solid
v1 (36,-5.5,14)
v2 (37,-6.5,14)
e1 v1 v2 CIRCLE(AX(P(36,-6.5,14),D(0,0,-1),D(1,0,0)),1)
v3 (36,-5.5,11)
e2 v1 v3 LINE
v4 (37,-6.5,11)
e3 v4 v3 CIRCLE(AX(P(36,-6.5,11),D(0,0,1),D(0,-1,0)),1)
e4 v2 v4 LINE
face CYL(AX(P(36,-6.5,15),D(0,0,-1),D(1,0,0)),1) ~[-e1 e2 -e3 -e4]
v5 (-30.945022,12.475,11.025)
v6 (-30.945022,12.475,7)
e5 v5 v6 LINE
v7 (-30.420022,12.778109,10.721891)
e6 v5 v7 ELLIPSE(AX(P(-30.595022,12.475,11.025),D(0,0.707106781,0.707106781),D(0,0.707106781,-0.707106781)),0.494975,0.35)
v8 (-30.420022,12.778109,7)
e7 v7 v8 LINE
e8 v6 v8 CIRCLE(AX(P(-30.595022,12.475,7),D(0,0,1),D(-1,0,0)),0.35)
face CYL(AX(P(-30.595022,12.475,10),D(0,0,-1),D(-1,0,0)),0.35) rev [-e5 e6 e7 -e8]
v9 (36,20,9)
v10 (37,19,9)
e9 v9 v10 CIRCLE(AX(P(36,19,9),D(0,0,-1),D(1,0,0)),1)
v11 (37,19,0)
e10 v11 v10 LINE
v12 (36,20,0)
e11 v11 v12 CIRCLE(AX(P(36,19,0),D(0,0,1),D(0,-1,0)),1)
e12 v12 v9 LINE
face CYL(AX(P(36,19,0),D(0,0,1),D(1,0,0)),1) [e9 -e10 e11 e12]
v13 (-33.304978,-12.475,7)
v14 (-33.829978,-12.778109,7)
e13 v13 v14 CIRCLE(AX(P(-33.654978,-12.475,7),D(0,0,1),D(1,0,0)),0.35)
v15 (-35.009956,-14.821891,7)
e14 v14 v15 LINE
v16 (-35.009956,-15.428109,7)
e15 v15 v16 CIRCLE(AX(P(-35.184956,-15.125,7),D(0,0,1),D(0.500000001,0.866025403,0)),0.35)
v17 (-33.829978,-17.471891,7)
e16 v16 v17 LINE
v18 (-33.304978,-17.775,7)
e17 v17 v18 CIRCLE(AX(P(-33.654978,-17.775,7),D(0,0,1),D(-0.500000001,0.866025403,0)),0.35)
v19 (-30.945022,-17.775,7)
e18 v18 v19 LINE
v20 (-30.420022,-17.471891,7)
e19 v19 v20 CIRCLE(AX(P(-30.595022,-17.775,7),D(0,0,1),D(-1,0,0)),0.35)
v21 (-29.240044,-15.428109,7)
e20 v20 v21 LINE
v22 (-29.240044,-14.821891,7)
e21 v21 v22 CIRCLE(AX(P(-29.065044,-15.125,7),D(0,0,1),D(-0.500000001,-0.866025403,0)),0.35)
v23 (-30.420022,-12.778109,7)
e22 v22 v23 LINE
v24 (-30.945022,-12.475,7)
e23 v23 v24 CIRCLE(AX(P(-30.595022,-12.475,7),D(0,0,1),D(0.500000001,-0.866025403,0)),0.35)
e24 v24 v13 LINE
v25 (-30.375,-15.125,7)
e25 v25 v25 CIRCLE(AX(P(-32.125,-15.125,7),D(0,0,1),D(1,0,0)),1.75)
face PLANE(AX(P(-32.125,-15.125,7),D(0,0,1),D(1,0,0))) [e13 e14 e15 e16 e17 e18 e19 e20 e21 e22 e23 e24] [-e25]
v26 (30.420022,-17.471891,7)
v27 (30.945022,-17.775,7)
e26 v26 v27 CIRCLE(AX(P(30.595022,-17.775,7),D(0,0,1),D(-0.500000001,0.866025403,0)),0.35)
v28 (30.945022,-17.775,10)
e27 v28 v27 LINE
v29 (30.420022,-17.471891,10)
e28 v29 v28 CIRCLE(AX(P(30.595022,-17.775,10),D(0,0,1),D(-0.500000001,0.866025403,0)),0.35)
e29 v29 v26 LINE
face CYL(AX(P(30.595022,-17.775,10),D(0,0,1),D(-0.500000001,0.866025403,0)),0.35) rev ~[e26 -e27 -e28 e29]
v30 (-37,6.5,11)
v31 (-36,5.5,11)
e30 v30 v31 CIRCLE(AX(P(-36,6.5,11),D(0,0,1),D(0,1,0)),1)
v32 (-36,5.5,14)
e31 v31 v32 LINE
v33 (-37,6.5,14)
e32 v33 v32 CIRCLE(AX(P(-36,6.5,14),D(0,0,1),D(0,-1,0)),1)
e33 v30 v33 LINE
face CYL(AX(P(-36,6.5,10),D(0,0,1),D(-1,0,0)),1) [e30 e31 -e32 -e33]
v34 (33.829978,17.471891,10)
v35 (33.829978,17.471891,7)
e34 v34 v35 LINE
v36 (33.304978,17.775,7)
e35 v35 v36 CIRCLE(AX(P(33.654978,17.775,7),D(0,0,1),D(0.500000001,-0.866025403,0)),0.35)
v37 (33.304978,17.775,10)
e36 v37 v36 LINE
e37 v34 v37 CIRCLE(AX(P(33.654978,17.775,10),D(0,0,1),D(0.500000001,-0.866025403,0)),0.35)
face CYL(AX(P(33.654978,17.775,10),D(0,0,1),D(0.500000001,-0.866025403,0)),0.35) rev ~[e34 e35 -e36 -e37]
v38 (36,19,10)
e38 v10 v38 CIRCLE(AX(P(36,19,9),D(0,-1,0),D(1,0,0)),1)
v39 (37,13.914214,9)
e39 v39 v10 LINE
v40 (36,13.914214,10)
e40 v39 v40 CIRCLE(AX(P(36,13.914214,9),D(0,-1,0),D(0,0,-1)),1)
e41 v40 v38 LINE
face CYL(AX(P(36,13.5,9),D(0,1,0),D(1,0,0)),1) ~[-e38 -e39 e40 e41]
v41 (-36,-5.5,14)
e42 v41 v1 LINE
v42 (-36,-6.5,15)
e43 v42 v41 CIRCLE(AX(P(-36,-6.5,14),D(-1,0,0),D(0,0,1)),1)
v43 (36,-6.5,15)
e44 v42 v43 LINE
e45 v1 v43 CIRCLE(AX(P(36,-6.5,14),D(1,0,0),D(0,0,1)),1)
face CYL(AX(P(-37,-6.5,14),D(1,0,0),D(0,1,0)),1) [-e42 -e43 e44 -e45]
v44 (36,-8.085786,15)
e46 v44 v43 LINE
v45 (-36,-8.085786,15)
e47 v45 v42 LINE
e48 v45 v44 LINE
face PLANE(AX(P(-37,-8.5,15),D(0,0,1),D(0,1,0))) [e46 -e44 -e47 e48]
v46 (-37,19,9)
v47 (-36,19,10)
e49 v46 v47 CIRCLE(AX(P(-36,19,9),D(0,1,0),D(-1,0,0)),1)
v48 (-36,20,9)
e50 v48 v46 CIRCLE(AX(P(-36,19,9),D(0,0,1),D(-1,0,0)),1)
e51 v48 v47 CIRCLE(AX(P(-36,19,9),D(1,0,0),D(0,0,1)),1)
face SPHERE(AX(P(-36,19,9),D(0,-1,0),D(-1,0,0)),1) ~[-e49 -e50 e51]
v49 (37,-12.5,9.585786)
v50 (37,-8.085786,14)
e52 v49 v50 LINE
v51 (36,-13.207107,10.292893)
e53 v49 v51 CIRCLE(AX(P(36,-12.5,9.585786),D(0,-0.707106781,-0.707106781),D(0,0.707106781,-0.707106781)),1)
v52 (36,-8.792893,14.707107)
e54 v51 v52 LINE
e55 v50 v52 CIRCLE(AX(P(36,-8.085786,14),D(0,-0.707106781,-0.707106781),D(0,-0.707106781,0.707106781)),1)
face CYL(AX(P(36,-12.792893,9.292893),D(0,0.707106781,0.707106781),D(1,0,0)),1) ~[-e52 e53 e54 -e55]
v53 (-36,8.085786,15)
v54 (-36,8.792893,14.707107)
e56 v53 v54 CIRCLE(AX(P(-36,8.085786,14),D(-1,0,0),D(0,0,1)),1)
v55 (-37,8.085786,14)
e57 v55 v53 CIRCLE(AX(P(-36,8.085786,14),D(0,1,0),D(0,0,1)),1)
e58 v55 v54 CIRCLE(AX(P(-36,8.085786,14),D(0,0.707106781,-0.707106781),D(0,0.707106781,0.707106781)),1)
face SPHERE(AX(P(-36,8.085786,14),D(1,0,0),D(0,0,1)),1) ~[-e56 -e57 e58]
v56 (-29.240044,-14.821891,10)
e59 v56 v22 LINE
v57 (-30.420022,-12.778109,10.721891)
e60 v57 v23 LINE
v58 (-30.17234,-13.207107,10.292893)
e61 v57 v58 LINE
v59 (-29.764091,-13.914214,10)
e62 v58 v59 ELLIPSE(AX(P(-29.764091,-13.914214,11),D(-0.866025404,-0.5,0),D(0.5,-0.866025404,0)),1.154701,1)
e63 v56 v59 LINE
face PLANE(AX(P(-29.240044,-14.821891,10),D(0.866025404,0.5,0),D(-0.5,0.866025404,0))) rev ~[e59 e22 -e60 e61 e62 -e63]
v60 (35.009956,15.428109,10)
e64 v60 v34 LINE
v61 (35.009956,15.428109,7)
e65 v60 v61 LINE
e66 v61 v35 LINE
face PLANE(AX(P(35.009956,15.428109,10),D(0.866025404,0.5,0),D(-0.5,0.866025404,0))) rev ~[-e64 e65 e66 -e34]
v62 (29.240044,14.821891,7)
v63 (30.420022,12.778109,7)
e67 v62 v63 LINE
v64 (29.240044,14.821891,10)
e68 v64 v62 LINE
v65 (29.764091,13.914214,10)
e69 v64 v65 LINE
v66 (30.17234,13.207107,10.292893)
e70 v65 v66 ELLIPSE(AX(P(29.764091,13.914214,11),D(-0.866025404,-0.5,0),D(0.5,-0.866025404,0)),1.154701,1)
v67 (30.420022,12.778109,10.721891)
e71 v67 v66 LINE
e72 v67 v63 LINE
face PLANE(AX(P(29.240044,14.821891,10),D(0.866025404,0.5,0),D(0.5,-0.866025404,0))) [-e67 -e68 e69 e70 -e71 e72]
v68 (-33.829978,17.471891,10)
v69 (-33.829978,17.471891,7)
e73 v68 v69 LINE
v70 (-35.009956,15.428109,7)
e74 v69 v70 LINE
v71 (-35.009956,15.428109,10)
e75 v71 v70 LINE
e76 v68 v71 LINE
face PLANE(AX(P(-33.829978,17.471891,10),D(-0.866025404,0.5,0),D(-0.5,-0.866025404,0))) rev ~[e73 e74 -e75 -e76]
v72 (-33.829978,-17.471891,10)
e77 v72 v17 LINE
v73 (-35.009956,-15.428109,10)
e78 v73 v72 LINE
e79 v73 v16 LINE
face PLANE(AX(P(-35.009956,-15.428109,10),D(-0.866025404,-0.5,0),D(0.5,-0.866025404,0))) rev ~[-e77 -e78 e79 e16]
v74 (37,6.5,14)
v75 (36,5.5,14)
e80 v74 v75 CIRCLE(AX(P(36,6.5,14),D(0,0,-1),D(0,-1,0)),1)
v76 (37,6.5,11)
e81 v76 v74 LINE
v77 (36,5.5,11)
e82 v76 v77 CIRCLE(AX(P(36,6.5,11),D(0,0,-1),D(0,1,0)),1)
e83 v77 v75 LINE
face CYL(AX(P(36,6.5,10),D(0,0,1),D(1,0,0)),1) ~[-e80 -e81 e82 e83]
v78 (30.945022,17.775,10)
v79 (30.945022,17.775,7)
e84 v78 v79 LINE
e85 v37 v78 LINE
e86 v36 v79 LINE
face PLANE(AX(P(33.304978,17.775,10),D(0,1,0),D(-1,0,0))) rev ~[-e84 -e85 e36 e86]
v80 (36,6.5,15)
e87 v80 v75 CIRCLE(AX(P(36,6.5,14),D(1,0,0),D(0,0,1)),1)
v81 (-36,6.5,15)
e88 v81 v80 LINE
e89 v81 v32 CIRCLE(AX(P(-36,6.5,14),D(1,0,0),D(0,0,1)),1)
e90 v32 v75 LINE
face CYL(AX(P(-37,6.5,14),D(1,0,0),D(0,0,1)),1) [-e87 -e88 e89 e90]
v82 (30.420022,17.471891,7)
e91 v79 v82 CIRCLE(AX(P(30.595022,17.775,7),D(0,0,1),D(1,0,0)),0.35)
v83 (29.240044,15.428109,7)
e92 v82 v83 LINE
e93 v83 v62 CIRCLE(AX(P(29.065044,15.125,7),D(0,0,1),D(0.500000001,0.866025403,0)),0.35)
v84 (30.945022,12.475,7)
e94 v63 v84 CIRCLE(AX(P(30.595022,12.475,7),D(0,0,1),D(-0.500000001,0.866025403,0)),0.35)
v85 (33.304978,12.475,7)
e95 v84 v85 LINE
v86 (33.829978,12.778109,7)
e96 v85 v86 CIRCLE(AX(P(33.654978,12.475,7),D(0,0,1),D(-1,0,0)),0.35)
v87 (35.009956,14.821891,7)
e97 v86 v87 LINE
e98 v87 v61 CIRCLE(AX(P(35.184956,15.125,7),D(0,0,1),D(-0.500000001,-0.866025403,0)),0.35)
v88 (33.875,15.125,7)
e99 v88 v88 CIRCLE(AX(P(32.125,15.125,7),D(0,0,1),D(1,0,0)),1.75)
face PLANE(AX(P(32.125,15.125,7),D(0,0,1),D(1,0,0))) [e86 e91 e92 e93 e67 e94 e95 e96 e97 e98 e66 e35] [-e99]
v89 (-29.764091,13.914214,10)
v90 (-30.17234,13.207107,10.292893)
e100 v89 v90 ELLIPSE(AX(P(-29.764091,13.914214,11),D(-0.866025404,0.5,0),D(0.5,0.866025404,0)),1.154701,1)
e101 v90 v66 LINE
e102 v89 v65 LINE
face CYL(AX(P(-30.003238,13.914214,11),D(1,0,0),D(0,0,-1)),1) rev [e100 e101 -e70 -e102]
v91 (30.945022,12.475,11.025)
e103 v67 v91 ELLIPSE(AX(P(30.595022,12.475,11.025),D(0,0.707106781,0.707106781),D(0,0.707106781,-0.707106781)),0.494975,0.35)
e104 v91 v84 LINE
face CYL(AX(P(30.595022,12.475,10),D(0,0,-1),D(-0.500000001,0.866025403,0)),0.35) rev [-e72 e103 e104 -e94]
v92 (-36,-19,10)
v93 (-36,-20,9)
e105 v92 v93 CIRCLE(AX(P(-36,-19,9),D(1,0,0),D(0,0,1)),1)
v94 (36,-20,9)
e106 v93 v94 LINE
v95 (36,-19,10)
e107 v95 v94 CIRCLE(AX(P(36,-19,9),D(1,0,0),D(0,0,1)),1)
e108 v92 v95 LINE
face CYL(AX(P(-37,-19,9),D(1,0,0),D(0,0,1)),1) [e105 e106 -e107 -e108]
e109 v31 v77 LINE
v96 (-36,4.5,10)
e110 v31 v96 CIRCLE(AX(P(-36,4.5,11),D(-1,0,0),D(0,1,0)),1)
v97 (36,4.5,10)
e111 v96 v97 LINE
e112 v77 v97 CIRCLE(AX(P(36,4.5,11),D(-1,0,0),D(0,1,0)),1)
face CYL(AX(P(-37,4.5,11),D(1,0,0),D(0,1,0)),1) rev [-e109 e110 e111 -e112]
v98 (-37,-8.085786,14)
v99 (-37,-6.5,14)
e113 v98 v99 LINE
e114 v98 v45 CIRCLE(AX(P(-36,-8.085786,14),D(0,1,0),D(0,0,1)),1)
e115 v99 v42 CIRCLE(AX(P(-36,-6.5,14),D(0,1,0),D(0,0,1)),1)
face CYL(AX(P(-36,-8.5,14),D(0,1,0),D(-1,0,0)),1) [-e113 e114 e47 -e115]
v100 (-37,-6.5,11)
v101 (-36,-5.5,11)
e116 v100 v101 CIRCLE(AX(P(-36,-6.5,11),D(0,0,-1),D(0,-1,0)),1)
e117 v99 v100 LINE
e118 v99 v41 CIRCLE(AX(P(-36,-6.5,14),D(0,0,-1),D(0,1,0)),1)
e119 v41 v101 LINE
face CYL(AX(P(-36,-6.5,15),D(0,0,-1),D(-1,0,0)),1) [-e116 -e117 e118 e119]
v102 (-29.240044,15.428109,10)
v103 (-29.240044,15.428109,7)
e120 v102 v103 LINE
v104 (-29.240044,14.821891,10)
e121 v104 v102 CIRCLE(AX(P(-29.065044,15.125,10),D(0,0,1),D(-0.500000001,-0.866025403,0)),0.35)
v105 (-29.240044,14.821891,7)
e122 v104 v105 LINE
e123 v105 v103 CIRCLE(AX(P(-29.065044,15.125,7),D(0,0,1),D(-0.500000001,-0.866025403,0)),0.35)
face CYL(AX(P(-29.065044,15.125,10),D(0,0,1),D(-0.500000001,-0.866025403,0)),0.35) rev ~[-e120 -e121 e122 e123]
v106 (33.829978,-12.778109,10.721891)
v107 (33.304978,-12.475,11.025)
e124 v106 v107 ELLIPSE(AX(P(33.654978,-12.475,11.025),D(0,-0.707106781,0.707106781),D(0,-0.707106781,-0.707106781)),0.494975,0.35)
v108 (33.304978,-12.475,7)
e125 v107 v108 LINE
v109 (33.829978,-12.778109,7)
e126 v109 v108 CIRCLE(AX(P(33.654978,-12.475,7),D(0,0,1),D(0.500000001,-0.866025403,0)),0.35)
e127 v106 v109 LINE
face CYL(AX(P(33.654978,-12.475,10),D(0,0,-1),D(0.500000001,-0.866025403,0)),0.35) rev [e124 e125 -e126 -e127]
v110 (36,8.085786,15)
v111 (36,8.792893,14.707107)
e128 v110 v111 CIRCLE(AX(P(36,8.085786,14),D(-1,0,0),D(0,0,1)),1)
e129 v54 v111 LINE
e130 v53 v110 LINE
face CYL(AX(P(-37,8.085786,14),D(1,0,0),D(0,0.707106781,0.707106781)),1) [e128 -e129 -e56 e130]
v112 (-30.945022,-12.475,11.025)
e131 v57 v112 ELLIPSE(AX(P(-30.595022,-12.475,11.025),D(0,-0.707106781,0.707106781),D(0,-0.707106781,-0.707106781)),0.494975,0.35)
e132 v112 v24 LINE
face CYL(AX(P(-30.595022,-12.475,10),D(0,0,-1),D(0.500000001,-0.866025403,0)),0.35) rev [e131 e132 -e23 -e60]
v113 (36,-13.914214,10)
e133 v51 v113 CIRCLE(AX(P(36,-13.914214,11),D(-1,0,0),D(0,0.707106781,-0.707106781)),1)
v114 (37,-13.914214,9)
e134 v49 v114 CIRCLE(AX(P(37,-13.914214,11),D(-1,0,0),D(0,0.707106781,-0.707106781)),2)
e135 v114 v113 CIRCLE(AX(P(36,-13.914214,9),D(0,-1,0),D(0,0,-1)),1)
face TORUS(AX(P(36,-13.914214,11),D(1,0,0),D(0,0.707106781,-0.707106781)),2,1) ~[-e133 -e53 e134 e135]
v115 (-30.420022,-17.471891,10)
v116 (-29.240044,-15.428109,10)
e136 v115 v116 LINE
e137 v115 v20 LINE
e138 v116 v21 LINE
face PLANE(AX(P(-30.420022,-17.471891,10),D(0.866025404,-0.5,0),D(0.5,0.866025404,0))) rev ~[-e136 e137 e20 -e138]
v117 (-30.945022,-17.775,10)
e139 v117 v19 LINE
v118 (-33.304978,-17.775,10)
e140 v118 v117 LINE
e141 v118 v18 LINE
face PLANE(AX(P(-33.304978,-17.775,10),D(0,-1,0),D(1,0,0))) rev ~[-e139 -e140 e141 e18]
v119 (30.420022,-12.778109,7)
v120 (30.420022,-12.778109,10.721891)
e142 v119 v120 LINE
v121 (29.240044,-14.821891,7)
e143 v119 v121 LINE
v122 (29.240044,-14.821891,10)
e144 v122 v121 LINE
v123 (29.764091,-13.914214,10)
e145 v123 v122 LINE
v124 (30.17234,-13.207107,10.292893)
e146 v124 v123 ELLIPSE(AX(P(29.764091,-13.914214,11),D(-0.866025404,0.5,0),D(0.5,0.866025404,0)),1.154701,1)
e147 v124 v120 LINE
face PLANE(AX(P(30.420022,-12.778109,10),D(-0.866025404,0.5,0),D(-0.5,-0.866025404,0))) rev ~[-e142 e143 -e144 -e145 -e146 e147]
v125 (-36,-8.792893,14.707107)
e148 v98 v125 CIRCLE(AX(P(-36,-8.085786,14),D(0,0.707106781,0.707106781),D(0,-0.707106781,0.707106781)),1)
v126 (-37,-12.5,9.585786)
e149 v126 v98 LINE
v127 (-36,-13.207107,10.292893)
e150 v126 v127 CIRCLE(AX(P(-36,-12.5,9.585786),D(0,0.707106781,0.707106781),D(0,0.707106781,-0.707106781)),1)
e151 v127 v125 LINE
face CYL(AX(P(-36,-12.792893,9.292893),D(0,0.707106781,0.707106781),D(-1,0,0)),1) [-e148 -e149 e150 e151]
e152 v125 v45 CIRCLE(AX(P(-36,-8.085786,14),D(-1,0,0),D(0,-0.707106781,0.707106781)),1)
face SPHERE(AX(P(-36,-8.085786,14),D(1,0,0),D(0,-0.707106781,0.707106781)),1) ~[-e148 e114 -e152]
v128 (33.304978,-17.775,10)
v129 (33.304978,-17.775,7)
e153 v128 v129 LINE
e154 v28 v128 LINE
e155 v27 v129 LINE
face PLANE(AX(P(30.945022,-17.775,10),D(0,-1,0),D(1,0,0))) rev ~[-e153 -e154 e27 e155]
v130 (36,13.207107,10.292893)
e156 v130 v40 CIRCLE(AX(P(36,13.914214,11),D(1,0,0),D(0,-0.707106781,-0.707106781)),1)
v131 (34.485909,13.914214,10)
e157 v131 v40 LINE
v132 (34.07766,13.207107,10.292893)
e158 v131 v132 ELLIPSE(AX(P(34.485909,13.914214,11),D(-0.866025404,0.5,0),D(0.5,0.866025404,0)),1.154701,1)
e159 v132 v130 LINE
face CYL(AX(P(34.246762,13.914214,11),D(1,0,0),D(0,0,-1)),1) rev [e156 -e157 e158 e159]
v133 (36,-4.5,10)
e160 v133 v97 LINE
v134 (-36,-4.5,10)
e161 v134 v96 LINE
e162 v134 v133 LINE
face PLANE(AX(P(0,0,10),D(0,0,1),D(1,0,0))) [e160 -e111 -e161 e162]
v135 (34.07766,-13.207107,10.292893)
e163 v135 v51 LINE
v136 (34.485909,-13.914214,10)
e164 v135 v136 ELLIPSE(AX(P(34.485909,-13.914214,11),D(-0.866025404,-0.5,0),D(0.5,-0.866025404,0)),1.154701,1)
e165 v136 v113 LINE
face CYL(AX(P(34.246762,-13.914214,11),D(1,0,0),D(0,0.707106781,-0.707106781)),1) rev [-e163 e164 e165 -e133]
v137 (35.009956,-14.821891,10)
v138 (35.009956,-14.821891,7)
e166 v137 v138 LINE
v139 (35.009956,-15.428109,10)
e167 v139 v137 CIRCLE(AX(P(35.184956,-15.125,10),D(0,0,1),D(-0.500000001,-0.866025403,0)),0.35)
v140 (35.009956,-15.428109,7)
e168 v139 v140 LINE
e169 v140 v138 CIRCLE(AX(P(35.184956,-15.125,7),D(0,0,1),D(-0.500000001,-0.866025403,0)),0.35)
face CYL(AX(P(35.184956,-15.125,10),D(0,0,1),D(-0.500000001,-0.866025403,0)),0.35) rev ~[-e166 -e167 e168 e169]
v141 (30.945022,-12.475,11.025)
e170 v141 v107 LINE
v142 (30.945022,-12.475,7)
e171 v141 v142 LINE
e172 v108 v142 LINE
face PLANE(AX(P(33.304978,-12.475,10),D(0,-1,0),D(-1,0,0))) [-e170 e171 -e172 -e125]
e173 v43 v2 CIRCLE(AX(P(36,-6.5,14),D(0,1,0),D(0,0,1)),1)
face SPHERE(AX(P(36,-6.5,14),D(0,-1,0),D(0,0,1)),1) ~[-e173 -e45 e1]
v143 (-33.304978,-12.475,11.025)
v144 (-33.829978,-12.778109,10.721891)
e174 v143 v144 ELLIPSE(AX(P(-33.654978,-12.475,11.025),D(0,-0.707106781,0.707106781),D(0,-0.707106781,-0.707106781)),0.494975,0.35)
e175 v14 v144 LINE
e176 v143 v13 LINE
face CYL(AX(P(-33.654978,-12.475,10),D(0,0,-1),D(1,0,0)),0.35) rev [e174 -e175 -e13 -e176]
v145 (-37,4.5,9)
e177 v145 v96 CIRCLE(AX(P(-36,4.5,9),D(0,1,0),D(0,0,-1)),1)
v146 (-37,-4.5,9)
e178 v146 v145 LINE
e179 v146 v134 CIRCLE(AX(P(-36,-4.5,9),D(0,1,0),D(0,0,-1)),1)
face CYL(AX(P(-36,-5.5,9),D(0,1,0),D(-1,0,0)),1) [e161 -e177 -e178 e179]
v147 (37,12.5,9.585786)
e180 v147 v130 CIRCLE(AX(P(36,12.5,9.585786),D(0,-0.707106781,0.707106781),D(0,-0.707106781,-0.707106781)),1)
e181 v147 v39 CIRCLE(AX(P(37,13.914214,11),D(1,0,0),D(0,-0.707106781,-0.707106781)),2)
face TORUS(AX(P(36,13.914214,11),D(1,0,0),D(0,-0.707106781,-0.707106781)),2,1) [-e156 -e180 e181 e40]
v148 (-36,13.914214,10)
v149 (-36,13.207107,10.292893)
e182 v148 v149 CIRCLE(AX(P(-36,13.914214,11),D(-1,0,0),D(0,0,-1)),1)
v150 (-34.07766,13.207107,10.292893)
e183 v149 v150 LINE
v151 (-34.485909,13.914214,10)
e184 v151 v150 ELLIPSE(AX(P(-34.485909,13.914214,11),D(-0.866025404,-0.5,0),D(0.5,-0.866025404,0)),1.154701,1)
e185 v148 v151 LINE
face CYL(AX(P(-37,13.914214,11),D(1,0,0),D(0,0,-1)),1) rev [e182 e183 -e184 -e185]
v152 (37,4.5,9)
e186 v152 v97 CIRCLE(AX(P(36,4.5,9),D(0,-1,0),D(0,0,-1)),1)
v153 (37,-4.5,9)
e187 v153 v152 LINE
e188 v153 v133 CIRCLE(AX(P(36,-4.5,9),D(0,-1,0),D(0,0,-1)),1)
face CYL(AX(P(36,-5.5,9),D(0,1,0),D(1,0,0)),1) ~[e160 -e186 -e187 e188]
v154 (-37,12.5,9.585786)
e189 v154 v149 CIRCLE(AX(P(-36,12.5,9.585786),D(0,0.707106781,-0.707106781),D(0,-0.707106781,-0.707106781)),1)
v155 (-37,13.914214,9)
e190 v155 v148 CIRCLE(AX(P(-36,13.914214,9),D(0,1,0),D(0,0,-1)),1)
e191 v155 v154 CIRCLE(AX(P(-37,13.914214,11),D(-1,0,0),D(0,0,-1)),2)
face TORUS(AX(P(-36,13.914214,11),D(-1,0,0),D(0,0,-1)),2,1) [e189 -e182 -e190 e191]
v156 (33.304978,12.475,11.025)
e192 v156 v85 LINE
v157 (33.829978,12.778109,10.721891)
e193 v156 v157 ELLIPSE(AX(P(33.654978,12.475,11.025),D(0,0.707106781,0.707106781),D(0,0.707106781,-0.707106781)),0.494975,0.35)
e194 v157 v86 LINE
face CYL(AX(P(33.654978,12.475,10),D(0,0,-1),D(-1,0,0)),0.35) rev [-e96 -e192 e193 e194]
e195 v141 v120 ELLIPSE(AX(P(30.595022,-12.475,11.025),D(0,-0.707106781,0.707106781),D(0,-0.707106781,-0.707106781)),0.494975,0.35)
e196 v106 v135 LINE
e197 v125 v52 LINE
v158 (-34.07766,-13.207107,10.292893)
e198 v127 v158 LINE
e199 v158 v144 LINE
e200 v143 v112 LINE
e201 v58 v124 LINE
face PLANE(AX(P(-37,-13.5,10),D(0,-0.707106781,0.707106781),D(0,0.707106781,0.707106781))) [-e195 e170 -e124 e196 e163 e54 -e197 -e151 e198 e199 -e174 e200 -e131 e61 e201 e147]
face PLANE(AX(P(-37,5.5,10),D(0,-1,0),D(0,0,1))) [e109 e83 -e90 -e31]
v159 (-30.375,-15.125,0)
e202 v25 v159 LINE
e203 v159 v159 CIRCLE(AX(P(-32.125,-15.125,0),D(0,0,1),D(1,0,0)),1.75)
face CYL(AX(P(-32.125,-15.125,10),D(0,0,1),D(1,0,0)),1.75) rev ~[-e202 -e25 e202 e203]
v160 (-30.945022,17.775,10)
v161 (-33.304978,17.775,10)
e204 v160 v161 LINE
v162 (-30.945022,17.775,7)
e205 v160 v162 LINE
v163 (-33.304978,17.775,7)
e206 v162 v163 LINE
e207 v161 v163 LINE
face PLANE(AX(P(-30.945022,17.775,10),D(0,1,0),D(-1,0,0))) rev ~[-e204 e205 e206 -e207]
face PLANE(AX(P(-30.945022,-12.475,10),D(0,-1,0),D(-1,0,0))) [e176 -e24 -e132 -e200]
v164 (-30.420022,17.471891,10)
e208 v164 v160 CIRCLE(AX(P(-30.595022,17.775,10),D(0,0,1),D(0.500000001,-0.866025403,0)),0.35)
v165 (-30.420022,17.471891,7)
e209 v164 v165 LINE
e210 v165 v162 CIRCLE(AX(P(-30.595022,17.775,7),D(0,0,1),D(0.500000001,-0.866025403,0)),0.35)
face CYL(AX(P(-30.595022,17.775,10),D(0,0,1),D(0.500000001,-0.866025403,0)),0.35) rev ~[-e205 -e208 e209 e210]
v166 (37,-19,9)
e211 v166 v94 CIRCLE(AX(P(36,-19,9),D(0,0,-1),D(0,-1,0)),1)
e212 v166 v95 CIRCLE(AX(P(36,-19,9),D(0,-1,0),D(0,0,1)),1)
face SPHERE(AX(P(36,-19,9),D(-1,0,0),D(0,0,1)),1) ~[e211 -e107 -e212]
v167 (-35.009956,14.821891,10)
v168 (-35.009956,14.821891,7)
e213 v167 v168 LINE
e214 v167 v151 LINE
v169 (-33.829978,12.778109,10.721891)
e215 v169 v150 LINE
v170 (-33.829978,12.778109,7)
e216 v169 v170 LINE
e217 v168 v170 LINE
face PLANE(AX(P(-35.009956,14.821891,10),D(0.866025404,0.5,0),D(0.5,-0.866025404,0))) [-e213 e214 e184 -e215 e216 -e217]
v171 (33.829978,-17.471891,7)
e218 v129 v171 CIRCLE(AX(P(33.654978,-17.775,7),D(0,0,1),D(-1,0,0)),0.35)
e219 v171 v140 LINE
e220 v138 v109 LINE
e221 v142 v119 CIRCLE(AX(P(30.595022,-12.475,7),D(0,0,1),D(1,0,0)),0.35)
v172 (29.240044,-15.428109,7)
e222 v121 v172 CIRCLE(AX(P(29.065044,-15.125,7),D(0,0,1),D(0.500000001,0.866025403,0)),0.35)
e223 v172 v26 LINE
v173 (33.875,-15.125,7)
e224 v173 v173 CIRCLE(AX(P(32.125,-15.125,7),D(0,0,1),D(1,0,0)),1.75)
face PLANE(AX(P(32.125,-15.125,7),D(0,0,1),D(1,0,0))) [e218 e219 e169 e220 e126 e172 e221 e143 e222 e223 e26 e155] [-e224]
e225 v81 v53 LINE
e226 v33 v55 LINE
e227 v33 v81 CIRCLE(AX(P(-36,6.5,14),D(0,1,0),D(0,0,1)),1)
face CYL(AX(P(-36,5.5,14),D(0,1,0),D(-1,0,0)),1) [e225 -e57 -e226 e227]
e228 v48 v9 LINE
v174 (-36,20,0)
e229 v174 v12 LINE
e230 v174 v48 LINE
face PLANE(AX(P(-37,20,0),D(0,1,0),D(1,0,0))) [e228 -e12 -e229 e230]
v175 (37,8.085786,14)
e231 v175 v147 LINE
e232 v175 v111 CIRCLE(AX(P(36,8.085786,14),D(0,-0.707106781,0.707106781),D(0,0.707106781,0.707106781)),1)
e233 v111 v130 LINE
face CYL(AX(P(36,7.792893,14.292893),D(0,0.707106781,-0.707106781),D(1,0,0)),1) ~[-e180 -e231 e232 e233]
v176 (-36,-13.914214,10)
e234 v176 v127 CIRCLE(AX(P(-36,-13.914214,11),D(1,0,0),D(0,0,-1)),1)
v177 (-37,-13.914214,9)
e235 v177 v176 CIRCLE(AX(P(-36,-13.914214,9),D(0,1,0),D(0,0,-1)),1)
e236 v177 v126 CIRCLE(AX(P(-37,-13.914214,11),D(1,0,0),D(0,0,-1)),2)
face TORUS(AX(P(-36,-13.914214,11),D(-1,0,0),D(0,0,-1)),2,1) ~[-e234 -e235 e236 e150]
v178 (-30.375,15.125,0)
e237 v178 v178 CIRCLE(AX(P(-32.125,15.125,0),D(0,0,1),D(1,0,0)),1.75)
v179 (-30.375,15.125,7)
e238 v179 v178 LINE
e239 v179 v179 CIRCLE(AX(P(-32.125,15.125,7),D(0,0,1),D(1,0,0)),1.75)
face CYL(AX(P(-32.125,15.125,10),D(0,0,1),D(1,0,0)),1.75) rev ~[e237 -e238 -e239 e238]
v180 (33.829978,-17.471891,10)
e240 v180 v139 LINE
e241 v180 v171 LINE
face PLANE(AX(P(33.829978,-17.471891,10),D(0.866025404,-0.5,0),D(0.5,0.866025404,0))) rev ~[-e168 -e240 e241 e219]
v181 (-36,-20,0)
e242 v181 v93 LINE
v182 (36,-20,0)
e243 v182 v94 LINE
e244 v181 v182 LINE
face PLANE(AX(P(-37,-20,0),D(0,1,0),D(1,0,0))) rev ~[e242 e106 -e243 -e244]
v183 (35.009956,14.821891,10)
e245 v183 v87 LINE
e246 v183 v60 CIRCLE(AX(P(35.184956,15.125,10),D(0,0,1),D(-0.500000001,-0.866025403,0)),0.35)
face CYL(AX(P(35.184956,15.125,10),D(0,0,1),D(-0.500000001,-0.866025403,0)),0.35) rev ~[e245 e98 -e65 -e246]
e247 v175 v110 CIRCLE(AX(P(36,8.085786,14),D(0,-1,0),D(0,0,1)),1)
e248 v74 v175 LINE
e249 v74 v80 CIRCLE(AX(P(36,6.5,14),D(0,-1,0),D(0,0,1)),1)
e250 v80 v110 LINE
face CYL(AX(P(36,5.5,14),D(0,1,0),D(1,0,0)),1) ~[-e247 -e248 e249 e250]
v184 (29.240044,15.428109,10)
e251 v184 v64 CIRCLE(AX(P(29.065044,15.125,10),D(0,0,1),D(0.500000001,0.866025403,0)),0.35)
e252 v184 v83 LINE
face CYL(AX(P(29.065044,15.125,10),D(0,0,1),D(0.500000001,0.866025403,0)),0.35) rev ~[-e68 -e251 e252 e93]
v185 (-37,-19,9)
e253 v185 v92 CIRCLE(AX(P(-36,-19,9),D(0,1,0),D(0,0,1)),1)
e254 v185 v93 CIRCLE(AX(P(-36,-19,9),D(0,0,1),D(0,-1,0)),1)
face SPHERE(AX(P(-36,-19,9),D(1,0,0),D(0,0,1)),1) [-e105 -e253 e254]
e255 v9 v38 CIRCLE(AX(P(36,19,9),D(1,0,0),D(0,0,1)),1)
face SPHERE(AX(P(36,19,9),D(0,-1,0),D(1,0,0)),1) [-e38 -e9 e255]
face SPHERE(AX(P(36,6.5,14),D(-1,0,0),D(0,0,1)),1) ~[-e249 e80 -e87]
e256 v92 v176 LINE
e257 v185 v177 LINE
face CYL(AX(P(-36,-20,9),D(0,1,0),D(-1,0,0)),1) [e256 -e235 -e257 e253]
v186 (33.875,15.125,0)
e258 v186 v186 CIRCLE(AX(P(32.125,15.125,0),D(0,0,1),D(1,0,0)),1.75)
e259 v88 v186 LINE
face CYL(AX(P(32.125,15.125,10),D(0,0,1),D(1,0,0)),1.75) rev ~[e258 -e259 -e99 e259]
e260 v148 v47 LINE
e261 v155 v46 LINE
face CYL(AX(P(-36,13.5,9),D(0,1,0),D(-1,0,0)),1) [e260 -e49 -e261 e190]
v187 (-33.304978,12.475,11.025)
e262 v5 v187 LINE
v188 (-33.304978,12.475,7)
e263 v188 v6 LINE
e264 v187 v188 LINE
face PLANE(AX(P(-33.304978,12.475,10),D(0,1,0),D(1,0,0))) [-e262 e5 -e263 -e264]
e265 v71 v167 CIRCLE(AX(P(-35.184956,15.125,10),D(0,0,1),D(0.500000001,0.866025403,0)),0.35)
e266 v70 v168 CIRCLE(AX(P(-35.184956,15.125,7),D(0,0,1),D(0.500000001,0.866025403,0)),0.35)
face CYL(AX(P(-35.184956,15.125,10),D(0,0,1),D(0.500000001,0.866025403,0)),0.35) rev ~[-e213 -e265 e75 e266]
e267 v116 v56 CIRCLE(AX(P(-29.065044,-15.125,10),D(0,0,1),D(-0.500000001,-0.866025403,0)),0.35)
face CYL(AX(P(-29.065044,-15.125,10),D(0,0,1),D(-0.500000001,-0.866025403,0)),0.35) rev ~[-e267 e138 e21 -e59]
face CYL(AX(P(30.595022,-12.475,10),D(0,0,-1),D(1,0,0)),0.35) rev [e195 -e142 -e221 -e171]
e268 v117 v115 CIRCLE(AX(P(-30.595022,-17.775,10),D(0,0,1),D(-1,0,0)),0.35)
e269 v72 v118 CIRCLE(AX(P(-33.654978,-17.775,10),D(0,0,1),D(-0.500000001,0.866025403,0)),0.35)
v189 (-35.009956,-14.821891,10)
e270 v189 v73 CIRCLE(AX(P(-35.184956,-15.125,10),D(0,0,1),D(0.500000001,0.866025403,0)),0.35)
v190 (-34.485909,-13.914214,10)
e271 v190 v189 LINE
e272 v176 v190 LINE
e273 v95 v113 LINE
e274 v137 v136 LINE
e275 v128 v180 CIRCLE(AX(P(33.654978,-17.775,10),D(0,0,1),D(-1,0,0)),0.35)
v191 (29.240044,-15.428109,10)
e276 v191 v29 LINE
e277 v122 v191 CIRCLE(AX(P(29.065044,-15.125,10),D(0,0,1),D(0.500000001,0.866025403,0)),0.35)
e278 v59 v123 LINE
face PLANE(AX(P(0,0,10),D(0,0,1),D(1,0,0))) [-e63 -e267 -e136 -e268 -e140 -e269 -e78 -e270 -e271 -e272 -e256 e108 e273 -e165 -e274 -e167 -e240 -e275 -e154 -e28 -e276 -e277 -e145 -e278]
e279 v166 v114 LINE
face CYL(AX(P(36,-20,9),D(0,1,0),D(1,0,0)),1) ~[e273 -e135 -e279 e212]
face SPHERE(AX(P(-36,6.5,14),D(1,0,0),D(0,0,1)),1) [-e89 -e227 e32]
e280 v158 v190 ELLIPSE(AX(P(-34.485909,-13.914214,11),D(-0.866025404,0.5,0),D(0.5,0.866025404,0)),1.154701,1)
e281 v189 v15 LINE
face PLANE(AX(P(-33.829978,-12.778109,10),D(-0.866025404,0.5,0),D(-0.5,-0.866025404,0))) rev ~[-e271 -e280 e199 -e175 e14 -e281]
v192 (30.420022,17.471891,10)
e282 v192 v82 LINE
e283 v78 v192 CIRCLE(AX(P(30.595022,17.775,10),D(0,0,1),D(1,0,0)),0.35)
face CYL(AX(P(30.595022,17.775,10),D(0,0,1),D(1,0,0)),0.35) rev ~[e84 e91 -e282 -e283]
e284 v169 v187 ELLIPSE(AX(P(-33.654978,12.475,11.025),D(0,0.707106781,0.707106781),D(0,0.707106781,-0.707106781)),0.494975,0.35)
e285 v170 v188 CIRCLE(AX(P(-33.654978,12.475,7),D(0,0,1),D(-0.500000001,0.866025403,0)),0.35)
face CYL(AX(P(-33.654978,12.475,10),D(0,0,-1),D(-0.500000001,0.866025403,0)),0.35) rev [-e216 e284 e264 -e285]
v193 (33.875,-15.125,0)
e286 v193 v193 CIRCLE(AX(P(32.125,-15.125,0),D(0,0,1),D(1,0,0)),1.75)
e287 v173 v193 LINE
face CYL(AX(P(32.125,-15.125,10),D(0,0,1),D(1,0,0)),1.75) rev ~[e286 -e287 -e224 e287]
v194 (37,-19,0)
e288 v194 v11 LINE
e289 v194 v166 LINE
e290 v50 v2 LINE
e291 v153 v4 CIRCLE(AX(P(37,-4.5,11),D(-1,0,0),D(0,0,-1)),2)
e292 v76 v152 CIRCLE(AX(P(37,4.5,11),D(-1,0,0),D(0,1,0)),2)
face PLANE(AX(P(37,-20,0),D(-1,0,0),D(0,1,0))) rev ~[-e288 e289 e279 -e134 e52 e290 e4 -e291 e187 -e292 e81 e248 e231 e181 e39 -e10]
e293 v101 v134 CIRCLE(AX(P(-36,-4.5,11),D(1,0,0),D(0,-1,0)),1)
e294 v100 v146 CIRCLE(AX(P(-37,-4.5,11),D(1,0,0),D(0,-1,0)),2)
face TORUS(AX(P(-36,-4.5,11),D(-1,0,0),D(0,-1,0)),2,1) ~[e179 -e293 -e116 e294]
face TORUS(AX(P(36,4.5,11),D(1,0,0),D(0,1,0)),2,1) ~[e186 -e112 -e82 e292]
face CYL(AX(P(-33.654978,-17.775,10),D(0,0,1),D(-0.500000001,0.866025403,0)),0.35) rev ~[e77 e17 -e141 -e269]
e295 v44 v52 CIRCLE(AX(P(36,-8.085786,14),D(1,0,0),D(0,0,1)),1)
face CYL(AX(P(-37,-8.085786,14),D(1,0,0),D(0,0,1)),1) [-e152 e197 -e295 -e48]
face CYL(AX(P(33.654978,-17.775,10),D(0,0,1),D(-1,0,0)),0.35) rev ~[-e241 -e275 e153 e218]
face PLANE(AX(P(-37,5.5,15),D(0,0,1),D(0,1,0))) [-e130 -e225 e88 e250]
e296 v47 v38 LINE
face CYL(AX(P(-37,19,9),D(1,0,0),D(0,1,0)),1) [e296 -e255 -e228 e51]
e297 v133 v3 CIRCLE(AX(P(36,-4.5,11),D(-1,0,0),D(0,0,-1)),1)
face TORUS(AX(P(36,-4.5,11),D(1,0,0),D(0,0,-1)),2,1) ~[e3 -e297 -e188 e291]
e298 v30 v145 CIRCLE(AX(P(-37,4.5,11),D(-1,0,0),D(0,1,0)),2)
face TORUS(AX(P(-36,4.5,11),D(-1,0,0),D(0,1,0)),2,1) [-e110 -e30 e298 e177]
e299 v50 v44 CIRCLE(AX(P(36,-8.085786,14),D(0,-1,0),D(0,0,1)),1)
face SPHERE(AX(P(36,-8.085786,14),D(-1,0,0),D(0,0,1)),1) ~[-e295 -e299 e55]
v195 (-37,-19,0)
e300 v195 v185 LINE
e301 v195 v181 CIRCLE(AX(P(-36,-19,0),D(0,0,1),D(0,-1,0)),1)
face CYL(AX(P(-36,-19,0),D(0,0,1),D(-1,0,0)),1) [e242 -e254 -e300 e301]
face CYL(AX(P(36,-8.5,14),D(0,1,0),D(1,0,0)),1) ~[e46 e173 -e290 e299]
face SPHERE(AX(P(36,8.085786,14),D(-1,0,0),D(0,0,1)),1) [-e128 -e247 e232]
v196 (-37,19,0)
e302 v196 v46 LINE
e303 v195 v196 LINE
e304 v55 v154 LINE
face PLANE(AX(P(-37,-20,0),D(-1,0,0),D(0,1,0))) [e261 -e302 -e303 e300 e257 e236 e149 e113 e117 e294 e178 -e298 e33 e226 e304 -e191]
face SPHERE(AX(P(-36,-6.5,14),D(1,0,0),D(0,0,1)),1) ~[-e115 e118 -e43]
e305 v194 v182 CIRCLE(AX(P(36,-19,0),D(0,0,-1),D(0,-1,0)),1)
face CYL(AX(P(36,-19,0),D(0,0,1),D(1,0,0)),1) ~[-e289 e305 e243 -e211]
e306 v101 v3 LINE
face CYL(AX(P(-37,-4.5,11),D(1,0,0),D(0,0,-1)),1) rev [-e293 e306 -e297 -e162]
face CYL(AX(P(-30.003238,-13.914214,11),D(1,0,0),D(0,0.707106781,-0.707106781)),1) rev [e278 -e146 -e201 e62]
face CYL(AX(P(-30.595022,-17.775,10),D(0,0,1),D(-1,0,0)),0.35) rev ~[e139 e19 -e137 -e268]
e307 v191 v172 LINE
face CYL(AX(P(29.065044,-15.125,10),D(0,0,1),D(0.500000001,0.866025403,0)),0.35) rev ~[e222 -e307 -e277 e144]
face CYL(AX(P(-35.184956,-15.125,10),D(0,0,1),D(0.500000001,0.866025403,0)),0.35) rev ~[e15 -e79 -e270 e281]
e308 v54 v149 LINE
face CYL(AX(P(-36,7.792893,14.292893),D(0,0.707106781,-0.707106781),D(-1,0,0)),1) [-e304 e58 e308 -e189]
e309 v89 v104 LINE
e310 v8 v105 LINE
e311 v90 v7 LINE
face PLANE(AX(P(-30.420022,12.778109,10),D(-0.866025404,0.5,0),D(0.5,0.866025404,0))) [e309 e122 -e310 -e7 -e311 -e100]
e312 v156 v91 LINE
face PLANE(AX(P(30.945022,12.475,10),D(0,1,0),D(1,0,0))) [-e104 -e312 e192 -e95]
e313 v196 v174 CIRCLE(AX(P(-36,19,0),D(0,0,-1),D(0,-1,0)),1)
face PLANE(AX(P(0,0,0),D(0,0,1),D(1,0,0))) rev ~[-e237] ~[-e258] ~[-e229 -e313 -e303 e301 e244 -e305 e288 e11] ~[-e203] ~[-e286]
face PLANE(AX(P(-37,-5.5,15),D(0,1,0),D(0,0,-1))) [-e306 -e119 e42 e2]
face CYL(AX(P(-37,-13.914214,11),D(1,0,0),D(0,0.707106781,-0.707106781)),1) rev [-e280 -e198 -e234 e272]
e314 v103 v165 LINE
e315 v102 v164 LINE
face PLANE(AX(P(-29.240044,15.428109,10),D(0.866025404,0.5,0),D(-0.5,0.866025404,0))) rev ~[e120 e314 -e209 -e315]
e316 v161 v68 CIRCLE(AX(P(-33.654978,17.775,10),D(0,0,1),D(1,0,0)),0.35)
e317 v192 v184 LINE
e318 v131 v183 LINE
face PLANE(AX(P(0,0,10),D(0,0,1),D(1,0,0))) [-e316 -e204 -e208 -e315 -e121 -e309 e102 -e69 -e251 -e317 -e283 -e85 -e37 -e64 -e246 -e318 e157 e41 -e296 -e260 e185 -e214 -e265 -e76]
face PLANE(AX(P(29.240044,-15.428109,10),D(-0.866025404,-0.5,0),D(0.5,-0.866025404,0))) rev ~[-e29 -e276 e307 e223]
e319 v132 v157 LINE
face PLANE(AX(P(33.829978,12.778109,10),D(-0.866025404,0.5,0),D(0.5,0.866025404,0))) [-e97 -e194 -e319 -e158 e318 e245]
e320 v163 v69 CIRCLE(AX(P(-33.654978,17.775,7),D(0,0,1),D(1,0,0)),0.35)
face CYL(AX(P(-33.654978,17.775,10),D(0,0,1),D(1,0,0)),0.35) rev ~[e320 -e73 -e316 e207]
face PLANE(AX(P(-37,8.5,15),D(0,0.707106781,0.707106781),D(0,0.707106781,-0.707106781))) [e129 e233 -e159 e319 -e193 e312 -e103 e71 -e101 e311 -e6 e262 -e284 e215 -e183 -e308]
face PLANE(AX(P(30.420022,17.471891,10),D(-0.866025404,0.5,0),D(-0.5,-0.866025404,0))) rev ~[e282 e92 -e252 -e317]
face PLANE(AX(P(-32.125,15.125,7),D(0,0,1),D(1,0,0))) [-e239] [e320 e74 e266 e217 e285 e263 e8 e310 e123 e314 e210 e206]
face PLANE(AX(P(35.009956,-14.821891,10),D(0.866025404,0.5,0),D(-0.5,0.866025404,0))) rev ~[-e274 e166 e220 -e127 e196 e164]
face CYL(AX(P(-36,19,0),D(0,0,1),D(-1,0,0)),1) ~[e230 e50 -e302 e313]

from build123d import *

# Parameters (mm, degrees)
SKETCH1_W               = 74
SKETCH1_H               = 40
BOSS_EXTRUDE1_DEPTH     = 10
BOSS_EXTRUDE2_DEPTH     = 74
SKETCH3_R               = 1.75
CUT_EXTRUDE1_DEPTH      = 6
CUT_EXTRUDE1_DEPTH_BACK = 11
CUT_EXTRUDE2_DEPTH      = 6
CUT_EXTRUDE2_DEPTH_BACK = 3
FILLET1_R               = 1


with BuildPart() as part:
    # Sketch1 → Boss-Extrude1 (new body)
    with BuildSketch(Plane.XY):
        Rectangle(SKETCH1_W, SKETCH1_H)
    extrude(amount=BOSS_EXTRUDE1_DEPTH)

    # Sketch2 → Boss-Extrude2 (add)
    with BuildSketch(Plane.ZY.offset(37)):
        Polygon((10, 13.5), (10, 5.5), (15, 5.5), (15, 8.5), align=None)
        Polygon((15, -5.5), (10, -5.5), (10, -13.5), (15, -8.5), align=None)
    extrude(amount=-BOSS_EXTRUDE2_DEPTH)

    # Sketch3 → Cut-Extrude1 (cut, two sides)
    with BuildSketch(Plane.XY.offset(10)) as cut_extrude1_sk:
        with Locations((32.125, 15.125)):
            Circle(SKETCH3_R)
        with Locations((32.125, -15.125)):
            Circle(SKETCH3_R)
        with Locations((-32.125, -15.125)):
            Circle(SKETCH3_R)
        with Locations((-32.125, 15.125)):
            Circle(SKETCH3_R)
    extrude(amount=CUT_EXTRUDE1_DEPTH, mode=Mode.SUBTRACT)
    extrude(cut_extrude1_sk.sketch, amount=-CUT_EXTRUDE1_DEPTH_BACK, mode=Mode.SUBTRACT)

    # Sketch4 → Cut-Extrude2 (cut, two sides)
    with BuildSketch(Plane.XY.offset(10)) as cut_extrude2_sk:
        with BuildLine():
            Line((35.009956427, 15.428108891), (33.829978213, 17.471891109))
            ThreePointArc((33.829978213, 17.471891109), (33.829978213, 18.078108891), (33.304978213, 17.775))
            Line((33.304978213, 17.775), (30.945021787, 17.775))
            ThreePointArc((30.945021787, 17.775), (30.420021787, 18.078108891), (30.420021787, 17.471891109))
            Line((30.420021787, 17.471891109), (29.240043573, 15.428108891))
            ThreePointArc((29.240043573, 15.428108891), (28.715043573, 15.125), (29.240043573, 14.821891109))
            Line((29.240043573, 14.821891109), (30.420021787, 12.778108891))
            ThreePointArc((30.420021787, 12.778108891), (30.420021787, 12.171891109), (30.945021787, 12.475))
            Line((30.945021787, 12.475), (33.304978213, 12.475))
            ThreePointArc((33.304978213, 12.475), (33.829978213, 12.171891109), (33.829978213, 12.778108891))
            Line((33.829978213, 12.778108891), (35.009956427, 14.821891109))
            ThreePointArc((35.009956427, 14.821891109), (35.534956427, 15.125), (35.009956427, 15.428108891))
        make_face()
        with BuildLine():
            Line((-29.240043573, 15.428108891), (-30.420021787, 17.471891109))
            ThreePointArc((-30.420021787, 17.471891109), (-30.420021787, 18.078108891), (-30.945021787, 17.775))
            Line((-30.945021787, 17.775), (-33.304978213, 17.775))
            ThreePointArc((-33.304978213, 17.775), (-33.829978213, 18.078108891), (-33.829978213, 17.471891109))
            Line((-33.829978213, 17.471891109), (-35.009956427, 15.428108891))
            ThreePointArc((-35.009956427, 15.428108891), (-35.534956427, 15.125), (-35.009956427, 14.821891109))
            Line((-35.009956427, 14.821891109), (-33.829978213, 12.778108891))
            ThreePointArc((-33.829978213, 12.778108891), (-33.829978213, 12.171891109), (-33.304978213, 12.475))
            Line((-33.304978213, 12.475), (-30.945021787, 12.475))
            ThreePointArc((-30.945021787, 12.475), (-30.420021787, 12.171891109), (-30.420021787, 12.778108891))
            Line((-30.420021787, 12.778108891), (-29.240043573, 14.821891109))
            ThreePointArc((-29.240043573, 14.821891109), (-28.715043573, 15.125), (-29.240043573, 15.428108891))
        make_face()
        with BuildLine():
            Line((-29.240043573, -14.821891109), (-30.420021787, -12.778108891))
            ThreePointArc((-30.420021787, -12.778108891), (-30.420021787, -12.171891109), (-30.945021787, -12.475))
            Line((-30.945021787, -12.475), (-33.304978213, -12.475))
            ThreePointArc((-33.304978213, -12.475), (-33.829978213, -12.171891109), (-33.829978213, -12.778108891))
            Line((-33.829978213, -12.778108891), (-35.009956427, -14.821891109))
            ThreePointArc((-35.009956427, -14.821891109), (-35.534956427, -15.125), (-35.009956427, -15.428108891))
            Line((-35.009956427, -15.428108891), (-33.829978213, -17.471891109))
            ThreePointArc((-33.829978213, -17.471891109), (-33.829978213, -18.078108891), (-33.304978213, -17.775))
            Line((-33.304978213, -17.775), (-30.945021787, -17.775))
            ThreePointArc((-30.945021787, -17.775), (-30.420021787, -18.078108891), (-30.420021787, -17.471891109))
            Line((-30.420021787, -17.471891109), (-29.240043573, -15.428108891))
            ThreePointArc((-29.240043573, -15.428108891), (-28.715043573, -15.125), (-29.240043573, -14.821891109))
        make_face()
        with BuildLine():
            Line((35.009956427, -14.821891109), (33.829978213, -12.778108891))
            ThreePointArc((33.829978213, -12.778108891), (33.829978213, -12.171891109), (33.304978213, -12.475))
            Line((33.304978213, -12.475), (30.945021787, -12.475))
            ThreePointArc((30.945021787, -12.475), (30.420021787, -12.171891109), (30.420021787, -12.778108891))
            Line((30.420021787, -12.778108891), (29.240043573, -14.821891109))
            ThreePointArc((29.240043573, -14.821891109), (28.715043573, -15.125), (29.240043573, -15.428108891))
            Line((29.240043573, -15.428108891), (30.420021787, -17.471891109))
            ThreePointArc((30.420021787, -17.471891109), (30.420021787, -18.078108891), (30.945021787, -17.775))
            Line((30.945021787, -17.775), (33.304978213, -17.775))
            ThreePointArc((33.304978213, -17.775), (33.829978213, -18.078108891), (33.829978213, -17.471891109))
            Line((33.829978213, -17.471891109), (35.009956427, -15.428108891))
            ThreePointArc((35.009956427, -15.428108891), (35.534956427, -15.125), (35.009956427, -14.821891109))
        make_face()
    extrude(amount=CUT_EXTRUDE2_DEPTH, mode=Mode.SUBTRACT)
    extrude(cut_extrude2_sk.sketch, amount=-CUT_EXTRUDE2_DEPTH_BACK, mode=Mode.SUBTRACT)

    # Fillet1
    fillet1_edges = [part.edges().sort_by_distance(p)[0] for p in [
        (-37, 16.75, 10),
        (37, 16.75, 10),
        (-37, 0, 10),
        (0, 8.5, 15),
        (0, 5.5, 15),
        (0, 5.5, 10),
        (0, -20, 10),
        (35.62338112, 13.5, 10),
        (-37, 7, 15),
        (-37, 11, 12.5),
        (-37, 5.5, 12.5),
        (37, 7, 15),
        (37, 5.5, 12.5),
        (37, 11, 12.5),
        (37, 0, 10),
        (-37, -16.75, 10),
        (35.62338112, -13.5, 10),
        (37, -11, 12.5),
        (0, -8.5, 15),
        (-37, -11, 12.5),
        (37, -7, 15),
        (0, -5.5, 15),
        (-37, -7, 15),
        (37, -5.5, 12.5),
        (0, -5.5, 10),
        (-37, -5.5, 12.5),
        (37, -16.75, 10),
        (-35.62338112, -13.5, 10),
        (0, -13.5, 10),
        (-35.62338112, 13.5, 10),
        (0, 13.5, 10),
        (37, -20, 5),
        (-37, -20, 5),
        (-37, 20, 5),
        (37, 20, 5),
        (0, 20, 10),
    ]]
    fillet(fillet1_edges, radius=FILLET1_R)


solid = part.part
